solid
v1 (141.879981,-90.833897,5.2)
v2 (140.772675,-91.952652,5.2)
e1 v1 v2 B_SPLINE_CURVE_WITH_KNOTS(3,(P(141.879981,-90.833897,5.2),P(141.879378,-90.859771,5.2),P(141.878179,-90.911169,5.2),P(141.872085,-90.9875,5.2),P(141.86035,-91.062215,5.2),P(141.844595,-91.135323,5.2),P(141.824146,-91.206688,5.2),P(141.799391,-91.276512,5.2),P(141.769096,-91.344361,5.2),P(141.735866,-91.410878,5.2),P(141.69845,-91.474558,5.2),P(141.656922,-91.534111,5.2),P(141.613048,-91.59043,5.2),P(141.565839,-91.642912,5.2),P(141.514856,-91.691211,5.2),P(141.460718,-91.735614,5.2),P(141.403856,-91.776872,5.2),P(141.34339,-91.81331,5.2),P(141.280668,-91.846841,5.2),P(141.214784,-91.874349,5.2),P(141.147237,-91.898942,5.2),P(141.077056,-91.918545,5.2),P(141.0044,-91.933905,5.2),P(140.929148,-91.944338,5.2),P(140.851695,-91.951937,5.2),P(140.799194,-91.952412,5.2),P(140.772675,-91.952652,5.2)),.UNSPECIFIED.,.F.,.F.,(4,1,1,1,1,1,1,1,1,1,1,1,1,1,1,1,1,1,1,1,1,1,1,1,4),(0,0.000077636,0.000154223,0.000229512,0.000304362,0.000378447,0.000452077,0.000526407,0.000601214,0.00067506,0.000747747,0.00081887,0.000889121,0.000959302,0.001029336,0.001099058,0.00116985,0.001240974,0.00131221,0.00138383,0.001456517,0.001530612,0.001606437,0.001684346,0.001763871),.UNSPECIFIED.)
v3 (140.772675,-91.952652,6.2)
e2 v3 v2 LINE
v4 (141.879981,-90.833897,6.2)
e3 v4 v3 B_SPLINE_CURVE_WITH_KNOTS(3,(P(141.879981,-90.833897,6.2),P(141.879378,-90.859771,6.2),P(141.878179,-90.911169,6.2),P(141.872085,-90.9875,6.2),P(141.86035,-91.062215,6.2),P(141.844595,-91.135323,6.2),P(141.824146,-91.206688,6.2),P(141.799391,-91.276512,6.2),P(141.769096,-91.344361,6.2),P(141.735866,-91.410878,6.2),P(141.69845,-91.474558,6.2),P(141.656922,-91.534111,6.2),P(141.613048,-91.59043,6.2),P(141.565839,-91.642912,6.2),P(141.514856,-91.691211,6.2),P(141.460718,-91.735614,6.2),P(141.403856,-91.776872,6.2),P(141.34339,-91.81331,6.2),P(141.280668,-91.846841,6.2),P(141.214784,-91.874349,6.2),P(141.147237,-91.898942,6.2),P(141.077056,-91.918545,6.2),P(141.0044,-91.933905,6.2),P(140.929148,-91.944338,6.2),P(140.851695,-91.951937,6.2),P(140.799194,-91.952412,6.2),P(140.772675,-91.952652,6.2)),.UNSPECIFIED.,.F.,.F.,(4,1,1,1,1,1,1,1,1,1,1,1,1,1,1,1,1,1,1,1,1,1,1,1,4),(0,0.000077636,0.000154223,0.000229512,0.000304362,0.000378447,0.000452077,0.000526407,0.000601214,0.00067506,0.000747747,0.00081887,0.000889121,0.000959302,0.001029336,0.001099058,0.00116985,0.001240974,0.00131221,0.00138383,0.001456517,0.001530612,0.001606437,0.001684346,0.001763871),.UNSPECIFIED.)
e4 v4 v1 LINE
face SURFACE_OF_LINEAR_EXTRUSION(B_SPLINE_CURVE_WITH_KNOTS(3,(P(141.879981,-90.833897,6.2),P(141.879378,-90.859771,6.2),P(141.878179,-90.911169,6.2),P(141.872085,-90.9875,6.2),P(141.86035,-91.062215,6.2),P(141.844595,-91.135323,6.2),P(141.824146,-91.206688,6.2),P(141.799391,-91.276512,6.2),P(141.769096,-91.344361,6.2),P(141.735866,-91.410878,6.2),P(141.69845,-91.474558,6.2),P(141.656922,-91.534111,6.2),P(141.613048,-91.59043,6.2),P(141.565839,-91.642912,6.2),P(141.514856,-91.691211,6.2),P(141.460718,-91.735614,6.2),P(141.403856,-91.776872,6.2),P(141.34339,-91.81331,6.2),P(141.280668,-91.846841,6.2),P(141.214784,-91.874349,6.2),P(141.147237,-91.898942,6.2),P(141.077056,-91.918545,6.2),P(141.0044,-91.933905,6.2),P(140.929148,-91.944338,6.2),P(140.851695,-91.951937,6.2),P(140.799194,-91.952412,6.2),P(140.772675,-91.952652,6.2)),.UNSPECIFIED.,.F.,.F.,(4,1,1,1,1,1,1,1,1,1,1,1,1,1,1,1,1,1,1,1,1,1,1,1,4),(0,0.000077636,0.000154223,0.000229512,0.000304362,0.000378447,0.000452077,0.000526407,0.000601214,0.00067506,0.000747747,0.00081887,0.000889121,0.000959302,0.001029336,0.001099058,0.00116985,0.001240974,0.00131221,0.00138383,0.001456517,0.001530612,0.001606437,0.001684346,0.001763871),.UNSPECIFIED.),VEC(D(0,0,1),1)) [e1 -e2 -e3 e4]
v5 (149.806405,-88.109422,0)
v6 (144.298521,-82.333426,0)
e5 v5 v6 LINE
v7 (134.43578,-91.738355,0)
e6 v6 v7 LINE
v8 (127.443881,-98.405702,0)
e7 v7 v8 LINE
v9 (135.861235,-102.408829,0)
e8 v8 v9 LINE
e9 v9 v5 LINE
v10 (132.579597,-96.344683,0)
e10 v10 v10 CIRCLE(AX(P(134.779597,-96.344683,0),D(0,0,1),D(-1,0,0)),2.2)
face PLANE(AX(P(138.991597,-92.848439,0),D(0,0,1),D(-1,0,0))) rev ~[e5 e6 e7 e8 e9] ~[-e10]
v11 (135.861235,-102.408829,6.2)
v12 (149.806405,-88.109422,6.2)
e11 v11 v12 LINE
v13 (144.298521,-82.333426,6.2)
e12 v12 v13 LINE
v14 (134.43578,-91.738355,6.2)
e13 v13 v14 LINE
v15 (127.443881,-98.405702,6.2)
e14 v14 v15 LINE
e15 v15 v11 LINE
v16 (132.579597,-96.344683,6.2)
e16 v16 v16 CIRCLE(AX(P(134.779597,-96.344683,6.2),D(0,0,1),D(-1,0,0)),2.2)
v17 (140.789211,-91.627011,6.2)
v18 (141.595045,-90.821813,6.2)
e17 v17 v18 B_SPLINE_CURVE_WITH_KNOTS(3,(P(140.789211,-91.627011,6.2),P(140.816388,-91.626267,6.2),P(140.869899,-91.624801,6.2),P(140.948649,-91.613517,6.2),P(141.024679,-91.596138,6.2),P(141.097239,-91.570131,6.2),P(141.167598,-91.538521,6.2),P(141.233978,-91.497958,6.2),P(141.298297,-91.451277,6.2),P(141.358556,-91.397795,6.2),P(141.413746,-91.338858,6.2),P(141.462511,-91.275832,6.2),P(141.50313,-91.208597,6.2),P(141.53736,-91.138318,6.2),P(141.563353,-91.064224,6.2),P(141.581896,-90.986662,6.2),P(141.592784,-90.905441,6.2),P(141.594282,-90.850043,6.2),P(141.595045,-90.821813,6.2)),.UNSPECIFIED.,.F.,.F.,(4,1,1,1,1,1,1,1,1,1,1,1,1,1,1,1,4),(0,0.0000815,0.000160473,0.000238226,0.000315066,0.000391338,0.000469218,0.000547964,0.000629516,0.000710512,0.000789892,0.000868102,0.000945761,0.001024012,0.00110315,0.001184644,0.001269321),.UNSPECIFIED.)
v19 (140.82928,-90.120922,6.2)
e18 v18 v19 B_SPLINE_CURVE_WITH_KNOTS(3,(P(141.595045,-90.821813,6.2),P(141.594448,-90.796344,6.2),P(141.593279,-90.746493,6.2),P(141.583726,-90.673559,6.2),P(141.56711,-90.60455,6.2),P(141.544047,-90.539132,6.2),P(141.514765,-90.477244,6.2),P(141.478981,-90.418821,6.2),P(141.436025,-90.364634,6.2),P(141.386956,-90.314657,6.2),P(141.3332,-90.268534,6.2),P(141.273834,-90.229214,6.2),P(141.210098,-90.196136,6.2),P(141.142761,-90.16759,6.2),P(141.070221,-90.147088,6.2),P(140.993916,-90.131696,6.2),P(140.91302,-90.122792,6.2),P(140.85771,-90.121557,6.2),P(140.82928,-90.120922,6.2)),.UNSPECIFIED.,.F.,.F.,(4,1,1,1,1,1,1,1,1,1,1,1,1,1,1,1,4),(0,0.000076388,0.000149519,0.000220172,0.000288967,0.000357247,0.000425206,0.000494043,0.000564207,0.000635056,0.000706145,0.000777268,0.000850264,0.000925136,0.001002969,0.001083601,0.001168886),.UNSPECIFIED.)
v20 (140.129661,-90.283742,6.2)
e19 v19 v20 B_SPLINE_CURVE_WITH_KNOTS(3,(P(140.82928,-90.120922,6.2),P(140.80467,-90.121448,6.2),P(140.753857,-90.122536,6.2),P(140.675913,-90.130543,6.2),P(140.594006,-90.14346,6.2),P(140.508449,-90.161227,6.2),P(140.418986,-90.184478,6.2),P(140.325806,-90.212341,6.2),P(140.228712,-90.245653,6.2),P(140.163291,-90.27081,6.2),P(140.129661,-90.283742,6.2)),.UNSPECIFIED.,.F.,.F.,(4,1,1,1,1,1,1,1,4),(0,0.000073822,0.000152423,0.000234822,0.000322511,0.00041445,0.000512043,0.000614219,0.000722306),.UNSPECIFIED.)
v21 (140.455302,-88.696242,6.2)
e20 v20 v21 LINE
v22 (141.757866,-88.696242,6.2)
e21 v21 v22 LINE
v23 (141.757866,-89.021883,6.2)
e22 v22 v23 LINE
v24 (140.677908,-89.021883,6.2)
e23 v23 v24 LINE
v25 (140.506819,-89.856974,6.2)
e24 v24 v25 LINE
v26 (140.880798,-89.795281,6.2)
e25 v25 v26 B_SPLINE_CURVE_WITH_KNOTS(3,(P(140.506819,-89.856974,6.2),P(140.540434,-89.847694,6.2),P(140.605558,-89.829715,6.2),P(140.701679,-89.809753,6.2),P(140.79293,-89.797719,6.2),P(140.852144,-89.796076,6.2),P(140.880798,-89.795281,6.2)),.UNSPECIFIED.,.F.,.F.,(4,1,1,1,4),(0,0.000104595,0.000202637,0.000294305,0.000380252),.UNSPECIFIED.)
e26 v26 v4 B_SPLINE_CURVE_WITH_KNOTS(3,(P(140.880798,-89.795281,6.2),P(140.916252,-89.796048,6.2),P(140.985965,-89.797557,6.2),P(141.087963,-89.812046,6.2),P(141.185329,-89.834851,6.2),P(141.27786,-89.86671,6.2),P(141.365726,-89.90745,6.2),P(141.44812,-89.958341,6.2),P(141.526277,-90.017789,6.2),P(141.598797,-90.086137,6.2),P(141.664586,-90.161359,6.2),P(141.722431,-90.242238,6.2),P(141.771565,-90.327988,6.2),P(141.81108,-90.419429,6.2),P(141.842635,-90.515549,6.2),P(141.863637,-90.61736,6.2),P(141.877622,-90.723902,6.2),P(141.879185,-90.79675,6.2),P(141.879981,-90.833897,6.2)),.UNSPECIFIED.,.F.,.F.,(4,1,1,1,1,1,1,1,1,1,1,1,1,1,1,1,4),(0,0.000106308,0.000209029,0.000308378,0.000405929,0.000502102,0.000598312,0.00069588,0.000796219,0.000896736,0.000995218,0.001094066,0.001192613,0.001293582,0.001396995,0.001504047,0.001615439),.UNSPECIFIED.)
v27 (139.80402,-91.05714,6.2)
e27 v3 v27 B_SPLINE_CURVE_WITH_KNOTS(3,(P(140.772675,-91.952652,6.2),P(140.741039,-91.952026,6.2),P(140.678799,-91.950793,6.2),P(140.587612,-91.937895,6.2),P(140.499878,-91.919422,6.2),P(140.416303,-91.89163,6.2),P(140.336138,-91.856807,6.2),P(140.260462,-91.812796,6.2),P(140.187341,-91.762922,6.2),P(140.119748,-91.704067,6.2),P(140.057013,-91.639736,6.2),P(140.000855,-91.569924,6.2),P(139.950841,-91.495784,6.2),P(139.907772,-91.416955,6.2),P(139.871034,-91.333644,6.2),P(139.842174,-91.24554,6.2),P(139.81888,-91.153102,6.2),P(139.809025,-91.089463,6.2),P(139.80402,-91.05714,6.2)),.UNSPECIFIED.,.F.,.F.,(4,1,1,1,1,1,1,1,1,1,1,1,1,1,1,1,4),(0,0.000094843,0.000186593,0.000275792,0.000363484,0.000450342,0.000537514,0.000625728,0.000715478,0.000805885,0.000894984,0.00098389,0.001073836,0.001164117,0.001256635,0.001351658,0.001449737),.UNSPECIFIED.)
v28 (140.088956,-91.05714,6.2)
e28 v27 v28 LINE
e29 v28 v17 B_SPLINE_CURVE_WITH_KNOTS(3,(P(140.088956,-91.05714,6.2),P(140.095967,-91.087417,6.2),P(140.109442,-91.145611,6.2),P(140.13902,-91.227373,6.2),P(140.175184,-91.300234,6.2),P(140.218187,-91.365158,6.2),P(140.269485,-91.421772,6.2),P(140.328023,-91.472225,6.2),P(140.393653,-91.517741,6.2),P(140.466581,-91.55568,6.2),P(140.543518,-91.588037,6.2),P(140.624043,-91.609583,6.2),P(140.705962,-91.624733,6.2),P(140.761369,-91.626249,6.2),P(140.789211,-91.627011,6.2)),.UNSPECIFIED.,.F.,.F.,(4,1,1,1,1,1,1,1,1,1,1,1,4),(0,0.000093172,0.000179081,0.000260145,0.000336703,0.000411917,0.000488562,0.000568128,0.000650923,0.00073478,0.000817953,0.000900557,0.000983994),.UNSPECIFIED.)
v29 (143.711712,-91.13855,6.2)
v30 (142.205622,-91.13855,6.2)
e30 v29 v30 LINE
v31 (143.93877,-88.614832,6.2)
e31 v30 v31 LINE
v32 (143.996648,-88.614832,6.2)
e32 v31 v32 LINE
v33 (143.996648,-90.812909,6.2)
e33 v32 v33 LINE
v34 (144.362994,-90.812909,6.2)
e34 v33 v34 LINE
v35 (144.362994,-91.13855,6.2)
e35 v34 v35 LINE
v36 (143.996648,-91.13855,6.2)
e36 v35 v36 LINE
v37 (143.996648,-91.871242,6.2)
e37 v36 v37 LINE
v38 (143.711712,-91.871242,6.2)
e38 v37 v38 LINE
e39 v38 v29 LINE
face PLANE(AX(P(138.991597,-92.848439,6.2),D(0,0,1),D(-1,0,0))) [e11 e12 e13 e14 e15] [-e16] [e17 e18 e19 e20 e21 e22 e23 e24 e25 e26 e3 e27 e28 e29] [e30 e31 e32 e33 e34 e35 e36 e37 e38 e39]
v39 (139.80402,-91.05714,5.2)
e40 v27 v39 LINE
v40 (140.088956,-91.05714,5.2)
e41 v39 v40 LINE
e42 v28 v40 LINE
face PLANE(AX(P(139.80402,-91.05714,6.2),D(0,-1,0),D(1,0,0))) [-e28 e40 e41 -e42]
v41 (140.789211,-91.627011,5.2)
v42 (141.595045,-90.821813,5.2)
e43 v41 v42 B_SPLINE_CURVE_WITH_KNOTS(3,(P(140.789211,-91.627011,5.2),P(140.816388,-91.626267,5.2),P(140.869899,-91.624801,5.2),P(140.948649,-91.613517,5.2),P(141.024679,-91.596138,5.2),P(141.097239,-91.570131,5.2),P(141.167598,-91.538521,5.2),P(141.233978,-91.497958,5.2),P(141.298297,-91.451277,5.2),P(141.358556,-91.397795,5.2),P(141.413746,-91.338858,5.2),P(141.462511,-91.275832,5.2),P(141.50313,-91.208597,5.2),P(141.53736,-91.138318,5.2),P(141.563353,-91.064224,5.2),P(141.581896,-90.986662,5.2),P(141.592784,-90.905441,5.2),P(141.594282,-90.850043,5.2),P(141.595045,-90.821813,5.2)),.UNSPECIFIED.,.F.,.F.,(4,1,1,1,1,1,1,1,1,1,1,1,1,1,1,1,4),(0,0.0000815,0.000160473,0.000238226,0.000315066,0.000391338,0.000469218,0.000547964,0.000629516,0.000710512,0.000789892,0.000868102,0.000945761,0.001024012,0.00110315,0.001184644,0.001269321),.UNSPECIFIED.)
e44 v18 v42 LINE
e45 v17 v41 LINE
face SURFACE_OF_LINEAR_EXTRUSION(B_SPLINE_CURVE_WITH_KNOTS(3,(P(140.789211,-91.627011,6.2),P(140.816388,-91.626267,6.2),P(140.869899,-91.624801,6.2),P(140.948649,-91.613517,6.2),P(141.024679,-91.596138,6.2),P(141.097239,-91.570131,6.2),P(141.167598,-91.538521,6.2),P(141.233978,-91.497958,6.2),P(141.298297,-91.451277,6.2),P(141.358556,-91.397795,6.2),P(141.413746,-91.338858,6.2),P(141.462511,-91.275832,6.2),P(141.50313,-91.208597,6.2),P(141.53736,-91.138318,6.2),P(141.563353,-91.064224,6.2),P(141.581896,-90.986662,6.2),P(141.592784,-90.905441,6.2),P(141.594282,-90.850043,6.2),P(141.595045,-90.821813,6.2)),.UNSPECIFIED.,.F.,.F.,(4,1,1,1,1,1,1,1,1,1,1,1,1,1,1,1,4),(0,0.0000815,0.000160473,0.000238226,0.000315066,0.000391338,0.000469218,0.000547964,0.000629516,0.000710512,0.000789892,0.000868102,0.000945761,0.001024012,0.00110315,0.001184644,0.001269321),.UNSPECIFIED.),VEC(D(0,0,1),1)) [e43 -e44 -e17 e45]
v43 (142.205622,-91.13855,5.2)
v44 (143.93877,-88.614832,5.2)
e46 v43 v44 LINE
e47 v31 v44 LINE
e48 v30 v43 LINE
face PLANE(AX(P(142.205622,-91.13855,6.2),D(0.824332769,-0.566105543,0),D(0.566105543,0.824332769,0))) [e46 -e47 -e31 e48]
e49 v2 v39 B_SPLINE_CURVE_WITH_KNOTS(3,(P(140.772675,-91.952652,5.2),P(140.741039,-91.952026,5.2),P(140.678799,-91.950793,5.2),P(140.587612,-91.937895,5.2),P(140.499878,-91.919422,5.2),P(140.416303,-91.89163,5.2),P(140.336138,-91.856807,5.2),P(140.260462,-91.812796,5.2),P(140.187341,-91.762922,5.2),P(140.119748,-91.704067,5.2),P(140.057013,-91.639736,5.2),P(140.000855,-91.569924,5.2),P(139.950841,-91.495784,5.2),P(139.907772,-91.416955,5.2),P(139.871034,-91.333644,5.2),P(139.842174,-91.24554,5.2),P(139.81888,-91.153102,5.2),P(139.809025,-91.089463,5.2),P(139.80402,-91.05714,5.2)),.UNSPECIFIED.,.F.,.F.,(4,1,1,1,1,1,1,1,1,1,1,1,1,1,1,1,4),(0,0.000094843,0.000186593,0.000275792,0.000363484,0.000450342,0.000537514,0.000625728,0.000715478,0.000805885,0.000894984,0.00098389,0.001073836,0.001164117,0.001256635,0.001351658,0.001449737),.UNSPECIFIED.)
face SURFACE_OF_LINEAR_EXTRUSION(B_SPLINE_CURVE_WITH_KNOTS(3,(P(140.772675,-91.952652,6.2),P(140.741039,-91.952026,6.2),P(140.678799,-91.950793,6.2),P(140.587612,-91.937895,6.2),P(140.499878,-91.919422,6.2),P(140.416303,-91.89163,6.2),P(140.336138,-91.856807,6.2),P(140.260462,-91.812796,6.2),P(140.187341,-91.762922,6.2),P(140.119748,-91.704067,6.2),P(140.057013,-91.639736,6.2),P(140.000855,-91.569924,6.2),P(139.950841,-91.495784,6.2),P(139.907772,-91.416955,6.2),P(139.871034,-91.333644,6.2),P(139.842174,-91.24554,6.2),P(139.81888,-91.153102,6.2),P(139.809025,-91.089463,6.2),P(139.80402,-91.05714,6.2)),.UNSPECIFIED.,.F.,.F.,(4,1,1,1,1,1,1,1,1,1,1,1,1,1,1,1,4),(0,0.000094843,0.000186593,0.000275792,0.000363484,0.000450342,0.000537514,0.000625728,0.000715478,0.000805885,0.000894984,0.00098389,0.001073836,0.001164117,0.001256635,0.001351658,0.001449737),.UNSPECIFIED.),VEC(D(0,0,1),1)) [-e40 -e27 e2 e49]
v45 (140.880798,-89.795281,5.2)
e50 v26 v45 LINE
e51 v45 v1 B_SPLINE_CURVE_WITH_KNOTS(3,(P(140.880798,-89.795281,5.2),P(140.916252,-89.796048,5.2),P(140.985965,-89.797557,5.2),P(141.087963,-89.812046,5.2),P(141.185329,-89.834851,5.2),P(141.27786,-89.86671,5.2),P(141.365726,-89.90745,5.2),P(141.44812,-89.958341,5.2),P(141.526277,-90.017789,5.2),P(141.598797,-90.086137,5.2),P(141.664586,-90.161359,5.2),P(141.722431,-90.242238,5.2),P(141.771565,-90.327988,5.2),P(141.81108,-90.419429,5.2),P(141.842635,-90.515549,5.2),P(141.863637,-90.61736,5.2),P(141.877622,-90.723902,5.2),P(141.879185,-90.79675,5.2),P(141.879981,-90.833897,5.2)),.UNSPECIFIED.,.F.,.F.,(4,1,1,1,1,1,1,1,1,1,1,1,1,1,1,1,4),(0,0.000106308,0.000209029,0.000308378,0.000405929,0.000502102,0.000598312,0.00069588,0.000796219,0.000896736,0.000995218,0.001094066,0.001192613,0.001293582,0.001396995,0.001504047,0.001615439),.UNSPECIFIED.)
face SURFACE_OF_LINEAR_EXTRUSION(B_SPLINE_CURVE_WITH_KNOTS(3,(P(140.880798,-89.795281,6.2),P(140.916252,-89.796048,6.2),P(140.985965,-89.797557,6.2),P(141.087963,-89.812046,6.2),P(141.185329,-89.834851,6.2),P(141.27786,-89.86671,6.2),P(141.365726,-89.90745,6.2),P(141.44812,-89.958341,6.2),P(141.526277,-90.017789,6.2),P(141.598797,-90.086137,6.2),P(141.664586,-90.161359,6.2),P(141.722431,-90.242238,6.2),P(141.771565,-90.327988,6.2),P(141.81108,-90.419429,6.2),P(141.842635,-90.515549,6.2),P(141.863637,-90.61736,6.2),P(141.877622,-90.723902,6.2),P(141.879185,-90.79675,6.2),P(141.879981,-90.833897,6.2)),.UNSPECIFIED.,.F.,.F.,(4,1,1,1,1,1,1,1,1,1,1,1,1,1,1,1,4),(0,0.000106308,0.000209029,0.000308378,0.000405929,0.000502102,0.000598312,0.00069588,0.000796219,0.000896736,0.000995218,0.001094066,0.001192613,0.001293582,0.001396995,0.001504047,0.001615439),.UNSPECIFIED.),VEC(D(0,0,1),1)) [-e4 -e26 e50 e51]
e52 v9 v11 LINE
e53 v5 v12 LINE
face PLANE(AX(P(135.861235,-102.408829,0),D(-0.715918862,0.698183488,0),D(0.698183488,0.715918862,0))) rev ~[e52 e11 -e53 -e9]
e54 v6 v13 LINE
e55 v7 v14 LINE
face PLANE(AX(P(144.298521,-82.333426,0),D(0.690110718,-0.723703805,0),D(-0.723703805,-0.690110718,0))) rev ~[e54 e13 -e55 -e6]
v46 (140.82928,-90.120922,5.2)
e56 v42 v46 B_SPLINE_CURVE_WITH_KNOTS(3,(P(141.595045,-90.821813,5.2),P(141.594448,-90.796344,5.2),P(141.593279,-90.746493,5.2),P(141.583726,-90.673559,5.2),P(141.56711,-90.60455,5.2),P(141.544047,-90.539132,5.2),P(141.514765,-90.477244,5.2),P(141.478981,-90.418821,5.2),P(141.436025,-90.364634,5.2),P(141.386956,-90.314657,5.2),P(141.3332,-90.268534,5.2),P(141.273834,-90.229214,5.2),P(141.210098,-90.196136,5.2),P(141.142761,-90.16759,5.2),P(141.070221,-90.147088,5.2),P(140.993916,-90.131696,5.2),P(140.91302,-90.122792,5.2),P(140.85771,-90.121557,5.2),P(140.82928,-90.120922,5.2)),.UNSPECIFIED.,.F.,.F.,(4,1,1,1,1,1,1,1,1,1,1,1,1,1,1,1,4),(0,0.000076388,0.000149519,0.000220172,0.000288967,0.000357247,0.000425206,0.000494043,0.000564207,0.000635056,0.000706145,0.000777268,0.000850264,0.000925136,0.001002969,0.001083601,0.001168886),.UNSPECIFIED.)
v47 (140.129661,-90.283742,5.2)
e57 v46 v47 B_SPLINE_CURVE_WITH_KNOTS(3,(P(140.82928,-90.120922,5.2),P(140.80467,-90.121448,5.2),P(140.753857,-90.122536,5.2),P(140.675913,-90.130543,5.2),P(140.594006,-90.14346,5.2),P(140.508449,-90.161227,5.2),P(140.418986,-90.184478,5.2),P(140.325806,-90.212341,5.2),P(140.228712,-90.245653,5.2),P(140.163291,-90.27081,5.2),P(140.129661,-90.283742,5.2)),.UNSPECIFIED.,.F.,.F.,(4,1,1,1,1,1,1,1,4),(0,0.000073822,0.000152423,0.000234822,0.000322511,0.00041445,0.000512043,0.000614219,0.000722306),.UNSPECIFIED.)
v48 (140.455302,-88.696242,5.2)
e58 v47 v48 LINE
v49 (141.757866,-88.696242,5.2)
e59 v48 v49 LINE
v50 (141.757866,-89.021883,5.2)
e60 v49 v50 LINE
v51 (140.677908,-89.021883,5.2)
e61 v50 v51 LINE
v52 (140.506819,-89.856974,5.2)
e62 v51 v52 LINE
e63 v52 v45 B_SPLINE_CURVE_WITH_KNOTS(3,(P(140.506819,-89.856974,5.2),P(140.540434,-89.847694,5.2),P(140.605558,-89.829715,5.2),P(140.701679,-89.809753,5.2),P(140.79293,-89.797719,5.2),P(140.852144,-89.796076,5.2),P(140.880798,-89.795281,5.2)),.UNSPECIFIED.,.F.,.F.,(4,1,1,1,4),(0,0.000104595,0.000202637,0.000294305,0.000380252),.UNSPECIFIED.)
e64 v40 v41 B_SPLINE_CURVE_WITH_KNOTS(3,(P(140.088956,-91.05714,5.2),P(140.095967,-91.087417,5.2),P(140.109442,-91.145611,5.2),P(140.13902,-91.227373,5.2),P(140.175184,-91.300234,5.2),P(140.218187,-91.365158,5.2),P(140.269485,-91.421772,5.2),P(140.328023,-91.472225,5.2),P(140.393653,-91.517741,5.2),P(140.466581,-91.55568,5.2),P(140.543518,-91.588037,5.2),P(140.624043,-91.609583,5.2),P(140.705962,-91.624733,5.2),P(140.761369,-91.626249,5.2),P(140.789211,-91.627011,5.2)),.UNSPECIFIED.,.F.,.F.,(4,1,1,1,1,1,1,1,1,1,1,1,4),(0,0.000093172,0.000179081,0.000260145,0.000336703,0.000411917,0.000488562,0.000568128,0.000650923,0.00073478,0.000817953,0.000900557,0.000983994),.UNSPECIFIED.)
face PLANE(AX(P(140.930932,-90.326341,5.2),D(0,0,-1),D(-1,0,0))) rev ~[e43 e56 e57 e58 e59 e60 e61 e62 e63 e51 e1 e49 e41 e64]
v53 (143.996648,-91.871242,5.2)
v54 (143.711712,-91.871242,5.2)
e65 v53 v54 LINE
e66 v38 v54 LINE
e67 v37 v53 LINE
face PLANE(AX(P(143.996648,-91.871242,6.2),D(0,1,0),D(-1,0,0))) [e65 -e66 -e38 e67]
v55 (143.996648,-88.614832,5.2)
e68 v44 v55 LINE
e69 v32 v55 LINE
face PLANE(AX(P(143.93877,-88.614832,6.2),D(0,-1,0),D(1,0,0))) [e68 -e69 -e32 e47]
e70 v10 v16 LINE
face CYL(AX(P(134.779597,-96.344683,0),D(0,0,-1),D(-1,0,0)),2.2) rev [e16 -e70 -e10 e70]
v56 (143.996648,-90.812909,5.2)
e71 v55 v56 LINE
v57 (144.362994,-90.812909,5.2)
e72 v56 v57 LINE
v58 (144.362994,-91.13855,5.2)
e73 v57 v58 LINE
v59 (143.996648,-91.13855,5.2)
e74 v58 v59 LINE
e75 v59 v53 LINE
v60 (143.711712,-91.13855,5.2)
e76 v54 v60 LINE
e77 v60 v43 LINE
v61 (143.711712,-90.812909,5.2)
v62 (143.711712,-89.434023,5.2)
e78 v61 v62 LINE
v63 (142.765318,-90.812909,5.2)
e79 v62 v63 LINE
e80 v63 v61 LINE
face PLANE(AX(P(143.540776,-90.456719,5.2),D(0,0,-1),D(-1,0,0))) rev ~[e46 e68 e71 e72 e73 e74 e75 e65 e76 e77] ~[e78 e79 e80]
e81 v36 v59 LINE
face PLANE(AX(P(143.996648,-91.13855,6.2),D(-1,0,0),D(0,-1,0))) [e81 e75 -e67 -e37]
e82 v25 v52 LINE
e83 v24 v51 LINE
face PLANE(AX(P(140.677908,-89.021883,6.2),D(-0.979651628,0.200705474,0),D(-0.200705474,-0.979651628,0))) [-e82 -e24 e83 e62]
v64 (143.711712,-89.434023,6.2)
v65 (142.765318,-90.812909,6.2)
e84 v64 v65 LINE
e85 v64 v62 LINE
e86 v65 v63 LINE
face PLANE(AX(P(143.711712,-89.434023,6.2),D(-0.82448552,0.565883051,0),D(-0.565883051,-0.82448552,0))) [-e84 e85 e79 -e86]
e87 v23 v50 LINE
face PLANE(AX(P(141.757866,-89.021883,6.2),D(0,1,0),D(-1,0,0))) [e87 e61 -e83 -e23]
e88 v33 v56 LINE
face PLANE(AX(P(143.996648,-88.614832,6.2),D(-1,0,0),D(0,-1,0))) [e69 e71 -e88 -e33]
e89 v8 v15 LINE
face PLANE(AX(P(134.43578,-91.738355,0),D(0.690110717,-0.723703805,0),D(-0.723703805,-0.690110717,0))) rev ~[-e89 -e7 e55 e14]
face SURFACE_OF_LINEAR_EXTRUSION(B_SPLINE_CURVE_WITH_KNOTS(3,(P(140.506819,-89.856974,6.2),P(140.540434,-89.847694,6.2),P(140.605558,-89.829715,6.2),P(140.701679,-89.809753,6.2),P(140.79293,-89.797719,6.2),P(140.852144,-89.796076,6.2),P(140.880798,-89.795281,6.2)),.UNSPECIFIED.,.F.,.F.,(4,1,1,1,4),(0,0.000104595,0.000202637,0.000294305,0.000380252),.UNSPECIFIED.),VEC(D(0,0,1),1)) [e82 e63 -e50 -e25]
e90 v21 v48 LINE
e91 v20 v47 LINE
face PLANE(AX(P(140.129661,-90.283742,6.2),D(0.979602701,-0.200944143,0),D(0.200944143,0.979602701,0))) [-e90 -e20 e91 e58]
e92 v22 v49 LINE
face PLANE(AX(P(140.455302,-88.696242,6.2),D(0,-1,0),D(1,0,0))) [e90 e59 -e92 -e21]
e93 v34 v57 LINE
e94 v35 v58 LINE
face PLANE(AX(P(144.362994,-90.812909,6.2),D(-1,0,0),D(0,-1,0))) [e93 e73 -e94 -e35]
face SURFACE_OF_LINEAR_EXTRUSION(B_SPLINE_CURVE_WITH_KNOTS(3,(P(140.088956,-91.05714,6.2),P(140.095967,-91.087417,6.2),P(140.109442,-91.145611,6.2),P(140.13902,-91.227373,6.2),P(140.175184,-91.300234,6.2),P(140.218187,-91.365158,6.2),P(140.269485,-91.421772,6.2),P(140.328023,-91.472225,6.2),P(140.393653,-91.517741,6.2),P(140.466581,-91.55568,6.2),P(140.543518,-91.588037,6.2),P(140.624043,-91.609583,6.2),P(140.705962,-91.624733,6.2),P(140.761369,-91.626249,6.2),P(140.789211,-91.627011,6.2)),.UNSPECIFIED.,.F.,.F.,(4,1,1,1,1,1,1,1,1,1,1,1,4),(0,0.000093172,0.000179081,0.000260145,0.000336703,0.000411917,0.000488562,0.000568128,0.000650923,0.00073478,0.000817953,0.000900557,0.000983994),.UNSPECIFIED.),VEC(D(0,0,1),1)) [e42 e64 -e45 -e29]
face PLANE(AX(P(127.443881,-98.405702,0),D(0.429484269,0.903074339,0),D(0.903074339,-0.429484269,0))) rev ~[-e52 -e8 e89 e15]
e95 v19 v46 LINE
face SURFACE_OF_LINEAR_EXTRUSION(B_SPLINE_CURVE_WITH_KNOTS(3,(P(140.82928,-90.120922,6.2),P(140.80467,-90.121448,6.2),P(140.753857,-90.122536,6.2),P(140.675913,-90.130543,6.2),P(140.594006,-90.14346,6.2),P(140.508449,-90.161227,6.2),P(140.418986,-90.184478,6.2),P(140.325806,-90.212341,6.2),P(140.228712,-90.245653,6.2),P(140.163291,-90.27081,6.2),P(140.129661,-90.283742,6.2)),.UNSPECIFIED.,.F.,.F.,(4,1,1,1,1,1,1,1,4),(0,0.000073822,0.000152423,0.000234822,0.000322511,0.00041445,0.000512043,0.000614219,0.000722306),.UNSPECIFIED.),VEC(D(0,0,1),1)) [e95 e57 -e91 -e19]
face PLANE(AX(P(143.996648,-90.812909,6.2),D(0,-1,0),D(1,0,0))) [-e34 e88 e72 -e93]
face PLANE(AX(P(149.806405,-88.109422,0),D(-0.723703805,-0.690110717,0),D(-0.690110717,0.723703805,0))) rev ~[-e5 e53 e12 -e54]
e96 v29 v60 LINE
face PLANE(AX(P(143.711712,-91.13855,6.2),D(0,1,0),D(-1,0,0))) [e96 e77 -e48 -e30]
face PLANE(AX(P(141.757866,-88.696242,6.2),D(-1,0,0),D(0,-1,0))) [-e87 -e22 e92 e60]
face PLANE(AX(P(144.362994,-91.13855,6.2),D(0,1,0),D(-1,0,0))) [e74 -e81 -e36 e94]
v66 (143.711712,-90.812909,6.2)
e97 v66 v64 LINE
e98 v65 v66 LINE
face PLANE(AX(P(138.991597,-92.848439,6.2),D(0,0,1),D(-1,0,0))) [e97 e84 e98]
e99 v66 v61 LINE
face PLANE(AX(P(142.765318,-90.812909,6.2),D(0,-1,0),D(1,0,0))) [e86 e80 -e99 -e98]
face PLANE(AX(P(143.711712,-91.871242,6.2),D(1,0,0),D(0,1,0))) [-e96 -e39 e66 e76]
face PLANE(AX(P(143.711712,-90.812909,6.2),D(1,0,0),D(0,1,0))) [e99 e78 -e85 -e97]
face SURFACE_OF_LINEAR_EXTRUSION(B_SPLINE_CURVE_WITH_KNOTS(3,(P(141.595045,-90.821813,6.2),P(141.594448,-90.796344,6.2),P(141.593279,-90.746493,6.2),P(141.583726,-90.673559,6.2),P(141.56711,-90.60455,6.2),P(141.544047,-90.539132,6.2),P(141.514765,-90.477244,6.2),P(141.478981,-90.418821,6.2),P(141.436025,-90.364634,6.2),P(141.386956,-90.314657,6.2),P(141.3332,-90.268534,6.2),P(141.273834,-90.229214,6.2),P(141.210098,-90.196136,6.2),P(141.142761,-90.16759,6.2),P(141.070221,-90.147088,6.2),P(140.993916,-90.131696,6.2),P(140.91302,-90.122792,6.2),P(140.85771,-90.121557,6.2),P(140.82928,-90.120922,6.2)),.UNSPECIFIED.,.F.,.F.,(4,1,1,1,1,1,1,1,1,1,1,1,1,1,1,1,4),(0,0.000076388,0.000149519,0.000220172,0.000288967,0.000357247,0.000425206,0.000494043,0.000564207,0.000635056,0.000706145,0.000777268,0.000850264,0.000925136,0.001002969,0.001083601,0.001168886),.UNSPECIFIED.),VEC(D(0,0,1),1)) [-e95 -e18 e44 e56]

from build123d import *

# Parameters (mm, degrees)
SKETCH1_R           = 2.2
BOSS_EXTRUDE1_DEPTH = 6.2
CUT_EXTRUDE1_DEPTH  = 1


with BuildPart() as part:
    # Sketch1 → Boss-Extrude1 (new body)
    with BuildSketch(Plane(origin=(0, 0, 0), x_dir=(-1, 0, 0), z_dir=(0, 0, 1))):
        Polygon((-135.861235396, 102.40882942), (-149.806405315, 88.109421961), (-144.298520867, 82.333425686), (-134.435779681, 91.738355366), (-127.443880814, 98.405702296), align=None)
        with Locations((-134.779596853, 96.344682986)):
            Circle(SKETCH1_R, mode=Mode.SUBTRACT)
    extrude(amount=BOSS_EXTRUDE1_DEPTH)

    # Sketch2 → Cut-Extrude1 (cut)
    with BuildSketch(Plane.XY.offset(6.2)):
        with BuildLine():
            Line((141.757865871, -88.696242194), (141.757865871, -89.021883219))
            Line((141.757865871, -89.021883219), (140.677907938, -89.021883219))
            Line((140.677907938, -89.021883219), (140.506819196, -89.856974365))
            add(Edge.make_bspline(
                [(140.506819196, -89.856974365), (140.540434168, -89.847694047), (140.605557859, -89.829714899), (140.70167859, -89.809752521), (140.792930089, -89.797718869), (140.852144175, -89.796075751), (140.880797562, -89.795280655)],
                knots=[0, 0, 0, 0, 0.000104595, 0.000202637, 0.000294305, 0.000380252, 0.000380252, 0.000380252, 0.000380252], degree=3))
            add(Edge.make_bspline(
                [(140.880797562, -89.795280655), (140.916252097, -89.79604804), (140.985964572, -89.79755691), (141.087962759, -89.812045659), (141.185329027, -89.834851153), (141.277859748, -89.866710483), (141.365726105, -89.907450027), (141.448119678, -89.958340687), (141.526277214, -90.01778878), (141.598796567, -90.08613747), (141.664586475, -90.161359222), (141.722431337, -90.242238148), (141.771564544, -90.327988241), (141.811080372, -90.419428794), (141.842634732, -90.515548883), (141.863636899, -90.617359868), (141.877622056, -90.723902092), (141.879184507, -90.796749809), (141.879981255, -90.833897442)],
                knots=[0, 0, 0, 0, 0.000106308, 0.000209029, 0.000308378, 0.000405929, 0.000502102, 0.000598312, 0.00069588, 0.000796219, 0.000896736, 0.000995218, 0.001094066, 0.001192613, 0.001293582, 0.001396995, 0.001504047, 0.001615439, 0.001615439, 0.001615439, 0.001615439], degree=3))
            add(Edge.make_bspline(
                [(141.879981255, -90.833897442), (141.879377937, -90.859771171), (141.878179454, -90.911168967), (141.872084735, -90.987499777), (141.860350193, -91.062214633), (141.844595186, -91.135323445), (141.824145992, -91.206687805), (141.799390922, -91.276511976), (141.769095954, -91.34436137), (141.735866064, -91.410877978), (141.698449616, -91.474558052), (141.65692197, -91.534111061), (141.61304756, -91.590430374), (141.565838589, -91.642911975), (141.514856258, -91.691210998), (141.460718002, -91.735614082), (141.403855821, -91.776872146), (141.343389994, -91.813310437), (141.280667885, -91.846841119), (141.214783716, -91.874348899), (141.147237224, -91.898942021), (141.077056229, -91.91854495), (141.004399699, -91.933905196), (140.929147867, -91.944337883), (140.851695402, -91.951936509), (140.799194498, -91.952412175), (140.772674565, -91.95265245)],
                knots=[0, 0, 0, 0, 7.7636e-05, 0.000154223, 0.000229512, 0.000304362, 0.000378447, 0.000452077, 0.000526407, 0.000601214, 0.00067506, 0.000747747, 0.00081887, 0.000889121, 0.000959302, 0.001029336, 0.001099058, 0.00116985, 0.001240974, 0.00131221, 0.00138383, 0.001456517, 0.001530612, 0.001606437, 0.001684346, 0.001763871, 0.001763871, 0.001763871, 0.001763871], degree=3))
            add(Edge.make_bspline(
                [(140.772674565, -91.95265245), (140.741038701, -91.952025761), (140.678798876, -91.950792825), (140.587612361, -91.937894628), (140.499878398, -91.919421647), (140.416303235, -91.891630173), (140.336137874, -91.856807413), (140.260461551, -91.812796315), (140.187340597, -91.762922414), (140.119747535, -91.704066665), (140.057013061, -91.63973601), (140.000855014, -91.569924436), (139.950840983, -91.495784156), (139.907771884, -91.416955116), (139.871034394, -91.333644449), (139.842173654, -91.245540013), (139.818879718, -91.153102152), (139.809025044, -91.089462896), (139.804019717, -91.05713963)],
                knots=[0, 0, 0, 0, 9.4843e-05, 0.000186593, 0.000275792, 0.000363484, 0.000450342, 0.000537514, 0.000625728, 0.000715478, 0.000805885, 0.000894984, 0.00098389, 0.001073836, 0.001164117, 0.001256635, 0.001351658, 0.001449737, 0.001449737, 0.001449737, 0.001449737], degree=3))
            Line((139.804019717, -91.05713963), (140.088955614, -91.05713963))
            add(Edge.make_bspline(
                [(140.088955614, -91.05713963), (140.09596652, -91.08741684), (140.10944187, -91.14561132), (140.139019942, -91.227373322), (140.175183986, -91.300234332), (140.218186502, -91.365158169), (140.269485459, -91.421772045), (140.328022869, -91.472224665), (140.393652589, -91.517740675), (140.466580733, -91.5556799), (140.543518312, -91.588036555), (140.624042853, -91.609582735), (140.705961796, -91.624732831), (140.761368603, -91.626249357), (140.789211023, -91.627011425)],
                knots=[0, 0, 0, 0, 9.3172e-05, 0.000179081, 0.000260145, 0.000336703, 0.000411917, 0.000488562, 0.000568128, 0.000650923, 0.00073478, 0.000817953, 0.000900557, 0.000983994, 0.000983994, 0.000983994, 0.000983994], degree=3))
            add(Edge.make_bspline(
                [(140.789211023, -91.627011425), (140.816387612, -91.626266862), (140.869898538, -91.624800811), (140.948648867, -91.613516851), (141.024679117, -91.596138197), (141.097239077, -91.570130542), (141.167598473, -91.538521405), (141.233977536, -91.497958443), (141.298296575, -91.451276855), (141.358556382, -91.397794769), (141.413746454, -91.338857975), (141.462510935, -91.275832054), (141.503129992, -91.208597486), (141.53736022, -91.138318269), (141.563352855, -91.064224149), (141.581895745, -90.986662369), (141.592784234, -90.905441351), (141.59428209, -90.850042763), (141.595045358, -90.821813107)],
                knots=[0, 0, 0, 0, 8.15e-05, 0.000160473, 0.000238226, 0.000315066, 0.000391338, 0.000469218, 0.000547964, 0.000629516, 0.000710512, 0.000789892, 0.000868102, 0.000945761, 0.001024012, 0.00110315, 0.001184644, 0.001269321, 0.001269321, 0.001269321, 0.001269321], degree=3))
            add(Edge.make_bspline(
                [(141.595045358, -90.821813107), (141.594448023, -90.79634439), (141.593278825, -90.746492999), (141.583726093, -90.673559433), (141.567109983, -90.604550316), (141.544046892, -90.539132404), (141.514764767, -90.477243995), (141.478981326, -90.418821219), (141.43602503, -90.364634099), (141.386955959, -90.314657283), (141.333200451, -90.268533718), (141.273833627, -90.229214439), (141.210097836, -90.196136457), (141.142760985, -90.167590487), (141.070221399, -90.147088382), (140.993915596, -90.131696086), (140.913019583, -90.12279215), (140.857710459, -90.121556723), (140.829280134, -90.120921681)],
                knots=[0, 0, 0, 0, 7.6388e-05, 0.000149519, 0.000220172, 0.000288967, 0.000357247, 0.000425206, 0.000494043, 0.000564207, 0.000635056, 0.000706145, 0.000777268, 0.000850264, 0.000925136, 0.001002969, 0.001083601, 0.001168886, 0.001168886, 0.001168886, 0.001168886], degree=3))
            add(Edge.make_bspline(
                [(140.829280134, -90.120921681), (140.80467032, -90.12144836), (140.753857297, -90.122535819), (140.675913019, -90.130542712), (140.594005527, -90.143459787), (140.508448806, -90.161227311), (140.418985917, -90.184478359), (140.325805653, -90.212340799), (140.228712097, -90.245652898), (140.163291019, -90.270809978), (140.129660743, -90.283742194)],
                knots=[0, 0, 0, 0, 7.3822e-05, 0.000152423, 0.000234822, 0.000322511, 0.00041445, 0.000512043, 0.000614219, 0.000722306, 0.000722306, 0.000722306, 0.000722306], degree=3))
            Line((140.129660743, -90.283742194), (140.455301768, -88.696242194))
            Line((140.455301768, -88.696242194), (141.757865871, -88.696242194))
        make_face()
        Polygon((143.938770318, -88.614831937), (143.996647922, -88.614831937), (143.996647922, -90.81290886), (144.362994076, -90.81290886), (144.362994076, -91.138549886), (143.996647922, -91.138549886), (143.996647922, -91.871242194), (143.711712025, -91.871242194), (143.711712025, -91.138549886), (142.205622281, -91.138549886), align=None)
        Polygon((143.711712025, -90.81290886), (143.711712025, -89.434022643), (142.765317794, -90.81290886), align=None, mode=Mode.SUBTRACT)
    extrude(amount=-CUT_EXTRUDE1_DEPTH, mode=Mode.SUBTRACT)


solid = part.part
